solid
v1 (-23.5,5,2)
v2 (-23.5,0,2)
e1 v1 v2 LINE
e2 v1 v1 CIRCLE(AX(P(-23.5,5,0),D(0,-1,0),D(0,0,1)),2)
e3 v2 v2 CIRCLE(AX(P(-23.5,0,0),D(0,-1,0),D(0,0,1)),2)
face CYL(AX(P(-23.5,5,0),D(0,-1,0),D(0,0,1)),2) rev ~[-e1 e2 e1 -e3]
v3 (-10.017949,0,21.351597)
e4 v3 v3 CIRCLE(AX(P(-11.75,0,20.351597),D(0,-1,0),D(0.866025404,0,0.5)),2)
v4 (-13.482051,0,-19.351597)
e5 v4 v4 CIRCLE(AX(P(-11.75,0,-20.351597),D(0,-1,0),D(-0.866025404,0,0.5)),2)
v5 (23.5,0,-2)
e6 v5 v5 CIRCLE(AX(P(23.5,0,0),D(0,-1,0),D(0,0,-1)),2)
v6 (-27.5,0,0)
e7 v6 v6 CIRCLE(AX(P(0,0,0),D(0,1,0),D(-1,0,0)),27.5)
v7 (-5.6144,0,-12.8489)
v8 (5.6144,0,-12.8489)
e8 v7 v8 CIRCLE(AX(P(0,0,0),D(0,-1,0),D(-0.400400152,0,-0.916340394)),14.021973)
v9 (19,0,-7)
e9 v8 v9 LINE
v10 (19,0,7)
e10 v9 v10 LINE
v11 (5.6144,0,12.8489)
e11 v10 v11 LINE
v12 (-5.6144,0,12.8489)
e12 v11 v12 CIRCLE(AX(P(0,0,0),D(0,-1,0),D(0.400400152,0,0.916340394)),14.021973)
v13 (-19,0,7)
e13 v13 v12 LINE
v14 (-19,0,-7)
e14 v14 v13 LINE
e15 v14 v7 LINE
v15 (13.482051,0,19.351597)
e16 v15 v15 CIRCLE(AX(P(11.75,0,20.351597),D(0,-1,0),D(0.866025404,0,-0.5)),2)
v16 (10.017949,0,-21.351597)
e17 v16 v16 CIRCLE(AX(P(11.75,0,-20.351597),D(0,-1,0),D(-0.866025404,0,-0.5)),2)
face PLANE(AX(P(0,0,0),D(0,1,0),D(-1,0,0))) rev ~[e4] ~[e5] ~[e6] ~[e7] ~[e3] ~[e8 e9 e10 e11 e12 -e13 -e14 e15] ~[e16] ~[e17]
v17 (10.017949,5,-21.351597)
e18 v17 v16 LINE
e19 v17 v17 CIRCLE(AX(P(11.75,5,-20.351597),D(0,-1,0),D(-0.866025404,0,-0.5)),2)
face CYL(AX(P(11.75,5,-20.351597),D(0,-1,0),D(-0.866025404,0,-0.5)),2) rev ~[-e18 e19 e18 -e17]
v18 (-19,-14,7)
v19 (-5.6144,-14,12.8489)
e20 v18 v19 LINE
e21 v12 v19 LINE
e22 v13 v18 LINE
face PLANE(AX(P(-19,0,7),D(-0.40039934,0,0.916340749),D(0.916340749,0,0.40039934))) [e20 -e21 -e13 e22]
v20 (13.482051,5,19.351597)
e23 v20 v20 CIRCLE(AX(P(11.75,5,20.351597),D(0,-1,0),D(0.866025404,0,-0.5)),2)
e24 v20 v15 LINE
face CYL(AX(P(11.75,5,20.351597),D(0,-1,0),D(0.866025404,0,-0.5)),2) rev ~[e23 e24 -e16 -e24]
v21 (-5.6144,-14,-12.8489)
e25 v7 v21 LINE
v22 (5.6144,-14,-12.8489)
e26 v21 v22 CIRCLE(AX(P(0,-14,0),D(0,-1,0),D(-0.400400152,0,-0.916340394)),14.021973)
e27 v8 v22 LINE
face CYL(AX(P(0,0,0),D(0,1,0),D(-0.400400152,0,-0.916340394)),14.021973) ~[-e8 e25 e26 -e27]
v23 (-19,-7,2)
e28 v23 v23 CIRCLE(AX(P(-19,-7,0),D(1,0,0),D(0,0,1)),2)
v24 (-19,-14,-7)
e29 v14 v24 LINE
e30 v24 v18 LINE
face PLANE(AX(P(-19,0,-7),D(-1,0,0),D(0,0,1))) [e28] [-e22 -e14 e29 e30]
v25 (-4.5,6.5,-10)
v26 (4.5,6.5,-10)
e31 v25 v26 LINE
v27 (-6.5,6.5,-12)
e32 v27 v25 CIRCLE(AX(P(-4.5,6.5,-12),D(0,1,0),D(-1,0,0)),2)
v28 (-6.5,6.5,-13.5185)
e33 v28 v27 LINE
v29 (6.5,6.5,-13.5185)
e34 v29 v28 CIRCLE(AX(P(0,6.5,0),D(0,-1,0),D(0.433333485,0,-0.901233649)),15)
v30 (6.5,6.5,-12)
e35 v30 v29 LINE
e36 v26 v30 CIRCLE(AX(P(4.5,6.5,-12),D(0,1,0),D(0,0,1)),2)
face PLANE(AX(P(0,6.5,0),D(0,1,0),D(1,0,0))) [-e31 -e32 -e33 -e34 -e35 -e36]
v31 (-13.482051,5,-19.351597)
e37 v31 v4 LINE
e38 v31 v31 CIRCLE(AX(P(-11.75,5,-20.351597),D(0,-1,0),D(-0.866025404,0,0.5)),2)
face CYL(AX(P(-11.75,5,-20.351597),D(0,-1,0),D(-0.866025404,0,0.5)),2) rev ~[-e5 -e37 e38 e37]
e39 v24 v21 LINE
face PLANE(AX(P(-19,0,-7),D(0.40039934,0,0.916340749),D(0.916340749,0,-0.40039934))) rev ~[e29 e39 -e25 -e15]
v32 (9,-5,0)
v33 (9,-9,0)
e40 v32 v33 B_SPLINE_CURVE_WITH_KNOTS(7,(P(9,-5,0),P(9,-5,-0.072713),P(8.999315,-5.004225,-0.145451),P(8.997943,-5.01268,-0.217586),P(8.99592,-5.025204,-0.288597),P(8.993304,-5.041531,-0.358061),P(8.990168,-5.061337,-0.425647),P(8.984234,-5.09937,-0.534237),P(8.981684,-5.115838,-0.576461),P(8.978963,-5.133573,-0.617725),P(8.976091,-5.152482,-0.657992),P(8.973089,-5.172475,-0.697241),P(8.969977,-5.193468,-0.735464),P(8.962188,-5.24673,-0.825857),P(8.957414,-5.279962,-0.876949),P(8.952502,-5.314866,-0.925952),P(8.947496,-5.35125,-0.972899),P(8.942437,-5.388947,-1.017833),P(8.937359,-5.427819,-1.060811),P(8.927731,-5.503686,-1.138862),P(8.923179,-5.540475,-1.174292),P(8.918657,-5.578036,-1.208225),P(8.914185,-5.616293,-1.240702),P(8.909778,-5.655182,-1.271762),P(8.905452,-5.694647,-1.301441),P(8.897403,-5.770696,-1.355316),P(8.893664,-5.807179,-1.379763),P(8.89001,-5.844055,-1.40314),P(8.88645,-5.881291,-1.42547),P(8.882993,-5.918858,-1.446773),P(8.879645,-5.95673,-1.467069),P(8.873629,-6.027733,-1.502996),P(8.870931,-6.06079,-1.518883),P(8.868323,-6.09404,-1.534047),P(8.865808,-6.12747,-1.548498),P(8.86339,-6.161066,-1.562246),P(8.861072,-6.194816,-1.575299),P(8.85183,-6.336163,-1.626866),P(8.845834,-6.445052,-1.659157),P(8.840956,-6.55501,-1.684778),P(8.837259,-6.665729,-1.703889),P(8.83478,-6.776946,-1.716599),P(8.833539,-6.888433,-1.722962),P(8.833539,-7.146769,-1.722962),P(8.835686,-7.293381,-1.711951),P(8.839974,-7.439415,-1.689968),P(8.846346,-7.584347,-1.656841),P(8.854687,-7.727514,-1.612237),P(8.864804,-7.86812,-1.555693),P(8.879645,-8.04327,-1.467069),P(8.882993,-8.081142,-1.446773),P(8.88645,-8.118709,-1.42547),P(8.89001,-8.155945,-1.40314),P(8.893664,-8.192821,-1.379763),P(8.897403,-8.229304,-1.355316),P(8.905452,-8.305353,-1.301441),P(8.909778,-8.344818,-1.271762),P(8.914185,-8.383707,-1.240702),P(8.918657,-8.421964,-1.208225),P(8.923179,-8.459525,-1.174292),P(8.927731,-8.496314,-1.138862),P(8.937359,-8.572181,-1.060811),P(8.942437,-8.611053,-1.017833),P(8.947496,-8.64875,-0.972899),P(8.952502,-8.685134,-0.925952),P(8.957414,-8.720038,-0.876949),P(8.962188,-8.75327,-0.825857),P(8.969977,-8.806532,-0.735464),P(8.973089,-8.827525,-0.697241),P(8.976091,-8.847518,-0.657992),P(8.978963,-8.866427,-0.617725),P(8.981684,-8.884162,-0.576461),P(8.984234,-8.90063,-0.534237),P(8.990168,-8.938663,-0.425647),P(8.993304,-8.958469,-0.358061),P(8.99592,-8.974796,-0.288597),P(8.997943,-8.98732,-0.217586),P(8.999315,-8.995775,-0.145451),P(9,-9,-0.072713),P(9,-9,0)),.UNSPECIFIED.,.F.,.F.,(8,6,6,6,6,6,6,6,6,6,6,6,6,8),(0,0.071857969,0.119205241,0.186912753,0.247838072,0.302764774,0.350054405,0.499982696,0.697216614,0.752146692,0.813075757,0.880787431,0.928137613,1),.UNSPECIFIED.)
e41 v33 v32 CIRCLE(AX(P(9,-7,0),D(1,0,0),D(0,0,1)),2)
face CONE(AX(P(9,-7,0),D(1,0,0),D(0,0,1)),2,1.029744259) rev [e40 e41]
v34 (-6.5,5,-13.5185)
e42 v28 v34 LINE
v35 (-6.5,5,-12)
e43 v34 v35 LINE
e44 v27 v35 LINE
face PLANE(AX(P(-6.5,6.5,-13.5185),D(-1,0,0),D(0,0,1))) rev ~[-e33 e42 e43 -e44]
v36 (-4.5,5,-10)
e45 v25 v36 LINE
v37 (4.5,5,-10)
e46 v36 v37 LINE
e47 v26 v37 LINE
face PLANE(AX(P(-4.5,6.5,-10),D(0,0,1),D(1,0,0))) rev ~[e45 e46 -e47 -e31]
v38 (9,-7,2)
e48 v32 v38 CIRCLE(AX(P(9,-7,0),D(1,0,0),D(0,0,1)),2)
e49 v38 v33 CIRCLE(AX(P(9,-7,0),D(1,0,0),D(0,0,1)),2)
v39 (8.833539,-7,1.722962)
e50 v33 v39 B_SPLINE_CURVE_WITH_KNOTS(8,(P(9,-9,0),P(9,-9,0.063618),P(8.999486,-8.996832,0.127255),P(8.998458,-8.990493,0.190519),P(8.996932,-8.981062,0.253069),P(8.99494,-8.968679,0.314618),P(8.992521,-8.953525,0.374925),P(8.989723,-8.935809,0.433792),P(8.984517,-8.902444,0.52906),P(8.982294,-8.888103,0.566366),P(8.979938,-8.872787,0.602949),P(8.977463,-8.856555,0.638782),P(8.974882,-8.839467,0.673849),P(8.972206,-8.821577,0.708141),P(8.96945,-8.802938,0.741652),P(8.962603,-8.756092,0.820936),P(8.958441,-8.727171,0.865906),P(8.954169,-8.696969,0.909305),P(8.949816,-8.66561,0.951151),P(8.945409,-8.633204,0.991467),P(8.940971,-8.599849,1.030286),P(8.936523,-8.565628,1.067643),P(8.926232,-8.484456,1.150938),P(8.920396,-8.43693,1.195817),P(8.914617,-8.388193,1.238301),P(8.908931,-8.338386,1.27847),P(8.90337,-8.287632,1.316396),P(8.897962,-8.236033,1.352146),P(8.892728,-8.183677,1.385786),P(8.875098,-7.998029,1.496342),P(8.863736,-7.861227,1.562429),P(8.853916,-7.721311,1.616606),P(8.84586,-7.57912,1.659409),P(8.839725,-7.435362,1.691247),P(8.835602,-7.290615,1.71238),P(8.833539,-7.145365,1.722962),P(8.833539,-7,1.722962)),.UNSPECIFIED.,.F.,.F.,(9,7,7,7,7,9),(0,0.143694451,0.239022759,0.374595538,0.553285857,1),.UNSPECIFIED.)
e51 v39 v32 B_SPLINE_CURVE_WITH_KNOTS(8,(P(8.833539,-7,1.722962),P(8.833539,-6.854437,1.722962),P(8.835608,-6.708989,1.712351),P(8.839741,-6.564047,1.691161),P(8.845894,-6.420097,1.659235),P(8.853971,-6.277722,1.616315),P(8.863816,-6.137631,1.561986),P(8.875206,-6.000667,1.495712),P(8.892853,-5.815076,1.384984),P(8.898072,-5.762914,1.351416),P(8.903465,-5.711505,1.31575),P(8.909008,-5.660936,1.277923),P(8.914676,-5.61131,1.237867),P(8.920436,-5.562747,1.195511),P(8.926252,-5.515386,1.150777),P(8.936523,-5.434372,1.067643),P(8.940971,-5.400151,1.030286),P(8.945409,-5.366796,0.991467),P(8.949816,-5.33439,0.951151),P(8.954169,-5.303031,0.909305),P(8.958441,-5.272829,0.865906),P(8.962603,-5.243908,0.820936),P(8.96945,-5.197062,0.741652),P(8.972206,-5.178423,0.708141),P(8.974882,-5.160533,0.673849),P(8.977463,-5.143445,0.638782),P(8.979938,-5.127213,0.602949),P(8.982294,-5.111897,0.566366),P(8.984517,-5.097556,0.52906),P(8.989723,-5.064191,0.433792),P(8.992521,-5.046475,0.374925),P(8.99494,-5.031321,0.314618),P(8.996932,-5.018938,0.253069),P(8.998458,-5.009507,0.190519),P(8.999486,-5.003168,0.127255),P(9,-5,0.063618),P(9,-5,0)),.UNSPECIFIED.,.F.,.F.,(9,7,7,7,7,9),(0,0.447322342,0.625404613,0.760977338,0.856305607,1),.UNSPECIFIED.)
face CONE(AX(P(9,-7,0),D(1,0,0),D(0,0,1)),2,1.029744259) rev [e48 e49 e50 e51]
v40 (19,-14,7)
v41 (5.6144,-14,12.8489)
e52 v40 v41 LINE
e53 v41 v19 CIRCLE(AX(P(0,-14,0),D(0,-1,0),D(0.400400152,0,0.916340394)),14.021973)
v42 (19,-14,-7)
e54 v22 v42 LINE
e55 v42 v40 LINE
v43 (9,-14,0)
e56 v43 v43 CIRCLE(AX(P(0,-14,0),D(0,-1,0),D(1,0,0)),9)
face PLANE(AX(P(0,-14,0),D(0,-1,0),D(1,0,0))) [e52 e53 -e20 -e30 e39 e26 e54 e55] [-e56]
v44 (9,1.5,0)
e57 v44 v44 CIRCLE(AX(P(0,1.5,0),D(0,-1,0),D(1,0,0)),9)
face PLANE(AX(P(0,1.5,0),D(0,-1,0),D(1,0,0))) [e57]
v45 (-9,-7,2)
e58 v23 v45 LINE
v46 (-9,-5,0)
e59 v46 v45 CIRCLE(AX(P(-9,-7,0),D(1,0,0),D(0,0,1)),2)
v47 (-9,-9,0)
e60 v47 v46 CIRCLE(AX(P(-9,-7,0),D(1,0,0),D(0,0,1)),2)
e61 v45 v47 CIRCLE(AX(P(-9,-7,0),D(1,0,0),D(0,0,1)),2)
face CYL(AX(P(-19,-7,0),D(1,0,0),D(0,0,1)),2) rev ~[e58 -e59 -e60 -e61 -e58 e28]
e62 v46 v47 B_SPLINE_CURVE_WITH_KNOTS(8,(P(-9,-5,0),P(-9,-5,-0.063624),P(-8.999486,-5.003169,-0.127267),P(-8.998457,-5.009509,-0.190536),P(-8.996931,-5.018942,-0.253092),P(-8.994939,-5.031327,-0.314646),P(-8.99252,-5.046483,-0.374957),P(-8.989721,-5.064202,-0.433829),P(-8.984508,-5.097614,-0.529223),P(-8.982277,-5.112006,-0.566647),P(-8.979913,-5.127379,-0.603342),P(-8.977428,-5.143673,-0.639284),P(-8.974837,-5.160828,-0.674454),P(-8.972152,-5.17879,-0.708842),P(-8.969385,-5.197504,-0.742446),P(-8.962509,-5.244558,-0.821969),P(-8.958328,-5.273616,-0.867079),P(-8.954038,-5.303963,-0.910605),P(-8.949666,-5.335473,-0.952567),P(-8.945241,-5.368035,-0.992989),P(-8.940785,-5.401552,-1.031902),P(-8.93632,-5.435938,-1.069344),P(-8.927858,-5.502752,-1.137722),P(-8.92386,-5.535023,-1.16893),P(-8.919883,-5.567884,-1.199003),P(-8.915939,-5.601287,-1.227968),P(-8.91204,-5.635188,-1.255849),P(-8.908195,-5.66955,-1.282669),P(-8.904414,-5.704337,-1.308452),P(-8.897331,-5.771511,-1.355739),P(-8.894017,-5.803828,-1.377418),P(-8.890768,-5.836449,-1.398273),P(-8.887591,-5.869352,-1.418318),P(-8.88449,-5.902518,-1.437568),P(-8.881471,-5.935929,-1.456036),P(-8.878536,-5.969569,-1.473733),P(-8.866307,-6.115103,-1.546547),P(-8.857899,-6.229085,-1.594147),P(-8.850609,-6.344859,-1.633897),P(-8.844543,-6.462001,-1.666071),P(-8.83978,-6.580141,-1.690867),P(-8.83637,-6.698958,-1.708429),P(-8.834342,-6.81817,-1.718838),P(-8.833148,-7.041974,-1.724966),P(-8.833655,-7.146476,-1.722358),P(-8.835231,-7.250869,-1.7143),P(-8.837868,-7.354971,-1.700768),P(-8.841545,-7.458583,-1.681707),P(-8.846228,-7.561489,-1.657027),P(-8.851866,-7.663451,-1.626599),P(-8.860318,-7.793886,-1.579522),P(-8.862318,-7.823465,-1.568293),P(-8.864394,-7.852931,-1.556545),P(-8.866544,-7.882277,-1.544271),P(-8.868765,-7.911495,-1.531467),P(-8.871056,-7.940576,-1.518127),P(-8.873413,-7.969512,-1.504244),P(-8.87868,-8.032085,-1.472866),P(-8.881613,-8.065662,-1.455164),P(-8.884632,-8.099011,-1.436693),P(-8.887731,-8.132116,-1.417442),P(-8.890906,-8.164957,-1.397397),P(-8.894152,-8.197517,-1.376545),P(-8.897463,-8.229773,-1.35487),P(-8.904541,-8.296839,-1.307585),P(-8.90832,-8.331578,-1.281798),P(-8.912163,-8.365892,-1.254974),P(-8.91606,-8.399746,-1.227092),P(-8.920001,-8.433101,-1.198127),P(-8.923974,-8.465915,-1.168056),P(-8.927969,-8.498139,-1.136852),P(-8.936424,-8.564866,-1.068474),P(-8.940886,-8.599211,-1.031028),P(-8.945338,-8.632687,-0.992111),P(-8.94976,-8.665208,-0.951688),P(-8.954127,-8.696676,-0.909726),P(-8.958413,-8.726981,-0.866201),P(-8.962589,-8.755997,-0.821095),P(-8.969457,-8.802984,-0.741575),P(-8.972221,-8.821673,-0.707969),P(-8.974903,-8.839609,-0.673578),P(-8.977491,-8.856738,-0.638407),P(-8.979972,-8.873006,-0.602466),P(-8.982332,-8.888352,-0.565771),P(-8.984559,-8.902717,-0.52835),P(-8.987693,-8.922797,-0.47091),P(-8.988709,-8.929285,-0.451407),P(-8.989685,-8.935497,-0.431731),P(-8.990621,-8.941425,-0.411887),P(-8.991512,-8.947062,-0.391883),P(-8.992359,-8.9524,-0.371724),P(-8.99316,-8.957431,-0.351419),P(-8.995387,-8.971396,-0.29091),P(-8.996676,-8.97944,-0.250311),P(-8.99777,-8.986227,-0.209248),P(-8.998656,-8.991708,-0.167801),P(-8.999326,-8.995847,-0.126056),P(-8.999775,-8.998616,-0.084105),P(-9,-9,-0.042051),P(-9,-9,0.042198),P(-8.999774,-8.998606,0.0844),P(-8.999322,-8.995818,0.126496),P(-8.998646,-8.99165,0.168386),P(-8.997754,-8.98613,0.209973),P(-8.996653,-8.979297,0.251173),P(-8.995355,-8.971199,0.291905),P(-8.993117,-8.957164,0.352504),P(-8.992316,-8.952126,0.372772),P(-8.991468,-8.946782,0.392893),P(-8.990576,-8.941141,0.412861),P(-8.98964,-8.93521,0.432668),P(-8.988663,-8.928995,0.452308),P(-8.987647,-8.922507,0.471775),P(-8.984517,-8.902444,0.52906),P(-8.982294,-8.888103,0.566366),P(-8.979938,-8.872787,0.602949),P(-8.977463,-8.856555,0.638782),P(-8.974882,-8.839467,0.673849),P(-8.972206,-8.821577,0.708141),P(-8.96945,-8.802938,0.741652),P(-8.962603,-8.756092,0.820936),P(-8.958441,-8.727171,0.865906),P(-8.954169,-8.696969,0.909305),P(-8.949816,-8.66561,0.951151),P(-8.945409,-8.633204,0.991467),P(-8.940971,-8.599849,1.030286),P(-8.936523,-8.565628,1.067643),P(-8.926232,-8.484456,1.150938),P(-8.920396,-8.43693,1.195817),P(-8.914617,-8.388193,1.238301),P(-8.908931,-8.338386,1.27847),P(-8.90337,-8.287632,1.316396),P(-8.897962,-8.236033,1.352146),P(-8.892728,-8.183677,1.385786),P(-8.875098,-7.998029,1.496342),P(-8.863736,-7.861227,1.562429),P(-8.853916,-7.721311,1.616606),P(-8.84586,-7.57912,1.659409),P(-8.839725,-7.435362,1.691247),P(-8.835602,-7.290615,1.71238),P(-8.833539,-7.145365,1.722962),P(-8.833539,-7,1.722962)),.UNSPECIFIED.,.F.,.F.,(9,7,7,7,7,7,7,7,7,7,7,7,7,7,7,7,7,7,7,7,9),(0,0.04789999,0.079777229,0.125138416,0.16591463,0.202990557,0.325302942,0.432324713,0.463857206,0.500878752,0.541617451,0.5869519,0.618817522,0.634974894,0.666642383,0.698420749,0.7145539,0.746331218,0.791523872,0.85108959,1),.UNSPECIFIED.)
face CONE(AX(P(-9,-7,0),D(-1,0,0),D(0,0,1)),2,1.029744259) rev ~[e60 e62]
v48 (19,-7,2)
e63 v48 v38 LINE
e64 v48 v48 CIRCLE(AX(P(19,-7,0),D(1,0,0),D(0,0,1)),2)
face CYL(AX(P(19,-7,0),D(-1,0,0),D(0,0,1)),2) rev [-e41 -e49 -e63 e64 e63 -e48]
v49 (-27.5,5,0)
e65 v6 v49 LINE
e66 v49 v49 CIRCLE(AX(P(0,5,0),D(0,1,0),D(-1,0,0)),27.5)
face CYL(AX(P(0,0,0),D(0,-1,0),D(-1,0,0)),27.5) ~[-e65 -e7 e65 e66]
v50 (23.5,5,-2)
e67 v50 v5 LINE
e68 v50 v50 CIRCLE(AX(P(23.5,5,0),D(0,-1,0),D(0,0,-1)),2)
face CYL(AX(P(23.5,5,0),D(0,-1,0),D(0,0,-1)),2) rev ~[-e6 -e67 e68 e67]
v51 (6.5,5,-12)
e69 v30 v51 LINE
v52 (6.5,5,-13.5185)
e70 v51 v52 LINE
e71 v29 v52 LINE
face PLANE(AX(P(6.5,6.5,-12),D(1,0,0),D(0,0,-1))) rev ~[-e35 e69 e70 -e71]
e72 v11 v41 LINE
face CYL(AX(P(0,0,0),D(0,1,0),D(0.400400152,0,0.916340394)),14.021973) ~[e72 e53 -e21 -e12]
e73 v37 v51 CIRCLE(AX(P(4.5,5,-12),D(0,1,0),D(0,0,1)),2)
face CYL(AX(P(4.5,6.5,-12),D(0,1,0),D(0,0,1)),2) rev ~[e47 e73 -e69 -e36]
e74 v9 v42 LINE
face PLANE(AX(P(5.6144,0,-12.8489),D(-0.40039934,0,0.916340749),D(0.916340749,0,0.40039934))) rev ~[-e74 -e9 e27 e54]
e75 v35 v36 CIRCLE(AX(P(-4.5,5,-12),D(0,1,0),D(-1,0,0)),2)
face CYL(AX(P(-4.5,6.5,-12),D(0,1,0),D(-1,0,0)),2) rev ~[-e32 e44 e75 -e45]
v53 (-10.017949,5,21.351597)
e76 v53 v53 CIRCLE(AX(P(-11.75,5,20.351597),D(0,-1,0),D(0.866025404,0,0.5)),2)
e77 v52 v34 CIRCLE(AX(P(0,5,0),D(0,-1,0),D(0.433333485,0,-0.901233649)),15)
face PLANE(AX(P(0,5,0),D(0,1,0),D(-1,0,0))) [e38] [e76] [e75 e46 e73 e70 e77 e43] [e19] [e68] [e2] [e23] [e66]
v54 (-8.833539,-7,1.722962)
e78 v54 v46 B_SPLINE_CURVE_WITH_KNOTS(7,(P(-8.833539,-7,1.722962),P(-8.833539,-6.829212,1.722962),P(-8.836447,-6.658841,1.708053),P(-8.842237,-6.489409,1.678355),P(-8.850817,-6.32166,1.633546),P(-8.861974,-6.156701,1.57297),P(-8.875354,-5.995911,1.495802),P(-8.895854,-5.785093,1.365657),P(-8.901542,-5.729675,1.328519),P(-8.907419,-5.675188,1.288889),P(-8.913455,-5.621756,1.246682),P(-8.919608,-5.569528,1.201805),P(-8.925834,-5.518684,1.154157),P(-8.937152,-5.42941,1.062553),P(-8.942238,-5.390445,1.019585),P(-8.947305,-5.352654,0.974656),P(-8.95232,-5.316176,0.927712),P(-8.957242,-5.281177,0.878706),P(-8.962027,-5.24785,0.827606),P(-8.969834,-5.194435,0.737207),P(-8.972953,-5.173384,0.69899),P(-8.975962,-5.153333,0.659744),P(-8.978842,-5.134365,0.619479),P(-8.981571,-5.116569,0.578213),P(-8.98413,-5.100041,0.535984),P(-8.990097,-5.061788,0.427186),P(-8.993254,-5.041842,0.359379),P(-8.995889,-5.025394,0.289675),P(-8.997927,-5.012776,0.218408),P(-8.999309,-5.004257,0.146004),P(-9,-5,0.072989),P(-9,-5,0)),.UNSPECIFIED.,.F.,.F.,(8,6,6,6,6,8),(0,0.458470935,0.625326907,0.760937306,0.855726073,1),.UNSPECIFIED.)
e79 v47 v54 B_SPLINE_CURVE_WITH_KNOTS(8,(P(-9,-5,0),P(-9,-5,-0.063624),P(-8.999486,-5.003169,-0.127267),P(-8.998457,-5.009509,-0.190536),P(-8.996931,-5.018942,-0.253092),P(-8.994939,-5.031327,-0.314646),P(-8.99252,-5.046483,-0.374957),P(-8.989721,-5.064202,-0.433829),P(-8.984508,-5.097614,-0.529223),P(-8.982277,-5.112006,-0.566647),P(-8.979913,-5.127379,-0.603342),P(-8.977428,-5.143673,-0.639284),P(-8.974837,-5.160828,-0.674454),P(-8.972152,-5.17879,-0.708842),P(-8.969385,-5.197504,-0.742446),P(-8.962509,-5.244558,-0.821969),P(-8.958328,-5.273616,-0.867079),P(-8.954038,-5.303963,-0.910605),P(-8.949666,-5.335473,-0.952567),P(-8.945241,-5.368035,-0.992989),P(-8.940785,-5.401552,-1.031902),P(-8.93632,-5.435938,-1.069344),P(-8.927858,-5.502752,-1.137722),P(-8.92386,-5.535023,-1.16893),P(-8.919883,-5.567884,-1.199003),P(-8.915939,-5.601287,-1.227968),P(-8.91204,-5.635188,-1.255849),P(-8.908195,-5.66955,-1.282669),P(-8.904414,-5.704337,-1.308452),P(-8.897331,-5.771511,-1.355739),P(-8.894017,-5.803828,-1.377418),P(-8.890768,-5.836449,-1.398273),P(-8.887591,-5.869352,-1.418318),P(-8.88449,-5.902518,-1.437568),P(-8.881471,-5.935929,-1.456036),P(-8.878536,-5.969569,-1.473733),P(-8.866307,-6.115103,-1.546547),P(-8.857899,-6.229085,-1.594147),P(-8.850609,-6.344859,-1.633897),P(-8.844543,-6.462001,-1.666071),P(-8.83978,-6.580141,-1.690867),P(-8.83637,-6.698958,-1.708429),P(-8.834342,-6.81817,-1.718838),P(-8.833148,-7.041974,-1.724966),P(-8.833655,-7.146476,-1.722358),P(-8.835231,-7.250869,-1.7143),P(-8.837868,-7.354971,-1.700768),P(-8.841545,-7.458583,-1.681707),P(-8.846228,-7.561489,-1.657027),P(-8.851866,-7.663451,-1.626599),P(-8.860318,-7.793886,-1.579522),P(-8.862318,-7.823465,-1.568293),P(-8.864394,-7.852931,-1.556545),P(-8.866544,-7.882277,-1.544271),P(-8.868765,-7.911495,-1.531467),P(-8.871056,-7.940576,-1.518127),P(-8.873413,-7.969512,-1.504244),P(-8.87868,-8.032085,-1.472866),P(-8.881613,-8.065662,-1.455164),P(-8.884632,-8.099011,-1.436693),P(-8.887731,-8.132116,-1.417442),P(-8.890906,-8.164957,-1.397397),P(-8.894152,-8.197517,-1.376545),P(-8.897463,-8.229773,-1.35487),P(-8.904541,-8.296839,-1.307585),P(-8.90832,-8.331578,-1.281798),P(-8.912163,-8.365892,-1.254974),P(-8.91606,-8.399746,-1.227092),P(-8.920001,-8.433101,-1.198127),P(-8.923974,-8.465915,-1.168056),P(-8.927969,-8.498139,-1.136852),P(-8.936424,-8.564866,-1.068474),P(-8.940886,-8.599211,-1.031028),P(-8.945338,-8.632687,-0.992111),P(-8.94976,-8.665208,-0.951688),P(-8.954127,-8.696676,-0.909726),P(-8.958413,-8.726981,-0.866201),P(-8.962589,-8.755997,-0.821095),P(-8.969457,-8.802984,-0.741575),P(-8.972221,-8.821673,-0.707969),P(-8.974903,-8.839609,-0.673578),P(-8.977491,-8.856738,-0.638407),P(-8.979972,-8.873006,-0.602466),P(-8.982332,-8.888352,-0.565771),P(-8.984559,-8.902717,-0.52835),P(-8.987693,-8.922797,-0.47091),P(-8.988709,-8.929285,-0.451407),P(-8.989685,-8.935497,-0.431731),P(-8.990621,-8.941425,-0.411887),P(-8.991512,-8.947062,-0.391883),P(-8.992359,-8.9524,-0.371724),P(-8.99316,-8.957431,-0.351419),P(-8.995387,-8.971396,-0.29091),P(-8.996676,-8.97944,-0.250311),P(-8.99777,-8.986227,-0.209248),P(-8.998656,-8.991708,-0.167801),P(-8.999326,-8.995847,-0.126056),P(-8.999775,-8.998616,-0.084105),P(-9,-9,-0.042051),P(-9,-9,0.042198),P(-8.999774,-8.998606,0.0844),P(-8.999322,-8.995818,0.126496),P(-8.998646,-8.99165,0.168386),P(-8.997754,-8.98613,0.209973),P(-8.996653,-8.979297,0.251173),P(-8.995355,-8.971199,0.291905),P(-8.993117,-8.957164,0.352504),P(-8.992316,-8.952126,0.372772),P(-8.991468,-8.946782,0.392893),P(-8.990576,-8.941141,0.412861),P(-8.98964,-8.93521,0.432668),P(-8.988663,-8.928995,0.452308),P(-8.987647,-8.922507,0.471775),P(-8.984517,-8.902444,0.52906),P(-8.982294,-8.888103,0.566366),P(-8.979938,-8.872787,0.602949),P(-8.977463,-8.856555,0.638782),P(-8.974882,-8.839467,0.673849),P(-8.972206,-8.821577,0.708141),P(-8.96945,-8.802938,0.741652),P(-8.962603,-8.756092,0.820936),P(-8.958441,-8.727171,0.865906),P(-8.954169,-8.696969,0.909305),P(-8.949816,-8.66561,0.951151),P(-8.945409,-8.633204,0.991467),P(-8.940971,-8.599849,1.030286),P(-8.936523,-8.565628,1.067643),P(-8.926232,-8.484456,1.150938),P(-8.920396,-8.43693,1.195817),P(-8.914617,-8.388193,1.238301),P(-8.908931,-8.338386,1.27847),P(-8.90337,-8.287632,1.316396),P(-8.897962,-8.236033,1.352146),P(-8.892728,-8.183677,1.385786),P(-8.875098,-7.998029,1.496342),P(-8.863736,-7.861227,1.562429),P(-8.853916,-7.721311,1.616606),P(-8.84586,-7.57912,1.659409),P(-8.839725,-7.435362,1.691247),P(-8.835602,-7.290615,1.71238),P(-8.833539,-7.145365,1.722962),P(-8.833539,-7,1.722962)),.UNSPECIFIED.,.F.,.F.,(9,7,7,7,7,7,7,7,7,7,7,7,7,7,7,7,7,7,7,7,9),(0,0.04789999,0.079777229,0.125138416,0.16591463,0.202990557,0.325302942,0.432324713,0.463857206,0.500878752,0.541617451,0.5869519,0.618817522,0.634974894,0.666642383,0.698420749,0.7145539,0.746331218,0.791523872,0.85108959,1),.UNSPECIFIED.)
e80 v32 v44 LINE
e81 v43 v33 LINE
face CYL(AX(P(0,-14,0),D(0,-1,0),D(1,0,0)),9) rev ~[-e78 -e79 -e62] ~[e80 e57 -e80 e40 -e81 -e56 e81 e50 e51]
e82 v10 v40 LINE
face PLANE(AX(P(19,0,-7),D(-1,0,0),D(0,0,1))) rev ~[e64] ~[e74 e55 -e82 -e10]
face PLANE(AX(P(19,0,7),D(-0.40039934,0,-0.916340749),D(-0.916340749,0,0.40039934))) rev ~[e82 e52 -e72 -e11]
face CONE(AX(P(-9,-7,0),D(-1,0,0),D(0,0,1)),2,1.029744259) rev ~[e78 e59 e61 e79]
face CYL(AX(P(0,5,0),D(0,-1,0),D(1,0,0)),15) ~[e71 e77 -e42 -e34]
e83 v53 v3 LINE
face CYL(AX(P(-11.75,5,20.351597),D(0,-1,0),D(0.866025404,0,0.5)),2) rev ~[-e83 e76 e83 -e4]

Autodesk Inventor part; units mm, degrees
ref_plane "YZ Plane" through (0, 0, 0) normal (1, 0, 0) x (0, 1, 0)
ref_plane "XZ Plane" through (0, 0, 0) normal (0, 1, 0) x (-1, 0, 0)
ref_plane "XY Plane" through (0, 0, 0) normal (0, 0, 1) x (1, 0, 0)
sketch "Skizze1" plane through (0, 0, 0) normal (0, 1, 0) x (-1, 0, 0)
  circle A0 centre (0, 0) radius 27.5
  dimension "d0" = 55
extrude "Extrusion1" add sketch "Skizze1" along normal blind 5
sketch "Skizze2" plane through (0, 5, 0) normal (0, 1, 0) x (1, 0, 0)
  circle A0 centre (0, 0) radius 15
  dimension "d4" = 30
extrude "Extrusion2" add sketch "Skizze2" along normal blind 1.5
sketch "Skizze3" plane through (0, 6.5, 0) normal (0, 1, 0) x (1, 0, 0)
  circle A0 centre (0, 0) radius 15 projected
  line L0 (-6.5, 13.5185) -> (-6.5, 12)
  line L1 (-4.5, 10) -> (4.5, 10)
  line L2 (6.5, 12) -> (6.5, 13.5185)
  line L3 (0, -15) -> (0, 15) construction
  arc A1 (-6.5, 12) -> (-4.5, 10) centre (-4.5, 12) ccw
  arc A2 (4.5, 10) -> (6.5, 12) centre (4.5, 12) ccw
  point P0 (-6.5, 10)
  point P1 (6.5, 10)
  dimension "d7" = 13
  dimension "d8" = 10
  dimension "d9" = 2
extrude "Extrusion3" cut sketch "Skizze3" against normal blind 1.5 contours L2 A2 L1 A1 L0 A0 picked at (0, 11.6667)
sketch "Skizze4" plane through (0, 5, 0) normal (0, 1, 0) x (1, 0, 0)
  circle A0 centre (0, 0) radius 23.5 construction
  point P0 (-23.5, 0)
  dimension "d12" = 47
hole "Bohrung1" at (-23.5, 5, 0) direction (0, -1, 0) diameter 4 end through all
pattern_circular "Runde Anordnung1" count 6 over 360 about axis through (0, 0, 0) along (0, 1, 0) of "Bohrung1"
sketch "Skizze5" plane through (0, 0, 0) normal (0, -1, 0) x (1, 0, 0)
  line L0 (-19, -7) -> (-19, 7)
  line L1 (-19, 7) -> (-5.6144, 12.8489)
  line L2 (-19, -7) -> (-5.6144, -12.8489)
  line L3 (5.6144, -12.8489) -> (19, -7)
  line L4 (19, -7) -> (19, 7)
  line L5 (19, 7) -> (5.6144, 12.8489)
  line L6 (0, -28.3232) -> (0, 28.3232) construction
  arc A0 (-5.6144, -12.8489) -> (5.6144, -12.8489) centre (0, 0) ccw
  arc A1 (5.6144, 12.8489) -> (-5.6144, 12.8489) centre (0, 0) ccw
  point P0 (-19, 0)
  point P1 (19, 0)
  dimension "d27" = 14
  dimension "d28" = 14
  dimension "d29" = 38
extrude "Extrusion4" add sketch "Skizze5" along normal blind 14
sketch "Skizze6" plane through (0, -14, 0) normal (0, -1, 0) x (1, 0, 0)
  circle A0 centre (0, 0) radius 9
  dimension "d32" = 18
extrude "Extrusion5" cut sketch "Skizze6" against normal blind 15.5
thread "Gewinde1" size "M18x2.5" class "6H" standard "ISO Metric profile" length 14
sketch "Skizze7" plane through (-19, 0, -7) normal (-1, 0, 0) x (0, 0, 1)
  line L0 (-5.8489, 0) -> (-5.8489, -14) projected
  line L1 (0, 0) -> (14, 0) projected
  point P0 (7, 0)
  point P1 (7, -7)
  point P2 (-5.8489, -7)
  point P3 (7, 0)
hole "Bohrung2" at (-19, -7, 0) direction (1, 0, 0) diameter 4 depth 10 tip angle 118
mirror "Mirror1" about plane through (0, 0, 0) normal (1, 0, 0) of "Bohrung2"
properties part number "109" material "Gold"
